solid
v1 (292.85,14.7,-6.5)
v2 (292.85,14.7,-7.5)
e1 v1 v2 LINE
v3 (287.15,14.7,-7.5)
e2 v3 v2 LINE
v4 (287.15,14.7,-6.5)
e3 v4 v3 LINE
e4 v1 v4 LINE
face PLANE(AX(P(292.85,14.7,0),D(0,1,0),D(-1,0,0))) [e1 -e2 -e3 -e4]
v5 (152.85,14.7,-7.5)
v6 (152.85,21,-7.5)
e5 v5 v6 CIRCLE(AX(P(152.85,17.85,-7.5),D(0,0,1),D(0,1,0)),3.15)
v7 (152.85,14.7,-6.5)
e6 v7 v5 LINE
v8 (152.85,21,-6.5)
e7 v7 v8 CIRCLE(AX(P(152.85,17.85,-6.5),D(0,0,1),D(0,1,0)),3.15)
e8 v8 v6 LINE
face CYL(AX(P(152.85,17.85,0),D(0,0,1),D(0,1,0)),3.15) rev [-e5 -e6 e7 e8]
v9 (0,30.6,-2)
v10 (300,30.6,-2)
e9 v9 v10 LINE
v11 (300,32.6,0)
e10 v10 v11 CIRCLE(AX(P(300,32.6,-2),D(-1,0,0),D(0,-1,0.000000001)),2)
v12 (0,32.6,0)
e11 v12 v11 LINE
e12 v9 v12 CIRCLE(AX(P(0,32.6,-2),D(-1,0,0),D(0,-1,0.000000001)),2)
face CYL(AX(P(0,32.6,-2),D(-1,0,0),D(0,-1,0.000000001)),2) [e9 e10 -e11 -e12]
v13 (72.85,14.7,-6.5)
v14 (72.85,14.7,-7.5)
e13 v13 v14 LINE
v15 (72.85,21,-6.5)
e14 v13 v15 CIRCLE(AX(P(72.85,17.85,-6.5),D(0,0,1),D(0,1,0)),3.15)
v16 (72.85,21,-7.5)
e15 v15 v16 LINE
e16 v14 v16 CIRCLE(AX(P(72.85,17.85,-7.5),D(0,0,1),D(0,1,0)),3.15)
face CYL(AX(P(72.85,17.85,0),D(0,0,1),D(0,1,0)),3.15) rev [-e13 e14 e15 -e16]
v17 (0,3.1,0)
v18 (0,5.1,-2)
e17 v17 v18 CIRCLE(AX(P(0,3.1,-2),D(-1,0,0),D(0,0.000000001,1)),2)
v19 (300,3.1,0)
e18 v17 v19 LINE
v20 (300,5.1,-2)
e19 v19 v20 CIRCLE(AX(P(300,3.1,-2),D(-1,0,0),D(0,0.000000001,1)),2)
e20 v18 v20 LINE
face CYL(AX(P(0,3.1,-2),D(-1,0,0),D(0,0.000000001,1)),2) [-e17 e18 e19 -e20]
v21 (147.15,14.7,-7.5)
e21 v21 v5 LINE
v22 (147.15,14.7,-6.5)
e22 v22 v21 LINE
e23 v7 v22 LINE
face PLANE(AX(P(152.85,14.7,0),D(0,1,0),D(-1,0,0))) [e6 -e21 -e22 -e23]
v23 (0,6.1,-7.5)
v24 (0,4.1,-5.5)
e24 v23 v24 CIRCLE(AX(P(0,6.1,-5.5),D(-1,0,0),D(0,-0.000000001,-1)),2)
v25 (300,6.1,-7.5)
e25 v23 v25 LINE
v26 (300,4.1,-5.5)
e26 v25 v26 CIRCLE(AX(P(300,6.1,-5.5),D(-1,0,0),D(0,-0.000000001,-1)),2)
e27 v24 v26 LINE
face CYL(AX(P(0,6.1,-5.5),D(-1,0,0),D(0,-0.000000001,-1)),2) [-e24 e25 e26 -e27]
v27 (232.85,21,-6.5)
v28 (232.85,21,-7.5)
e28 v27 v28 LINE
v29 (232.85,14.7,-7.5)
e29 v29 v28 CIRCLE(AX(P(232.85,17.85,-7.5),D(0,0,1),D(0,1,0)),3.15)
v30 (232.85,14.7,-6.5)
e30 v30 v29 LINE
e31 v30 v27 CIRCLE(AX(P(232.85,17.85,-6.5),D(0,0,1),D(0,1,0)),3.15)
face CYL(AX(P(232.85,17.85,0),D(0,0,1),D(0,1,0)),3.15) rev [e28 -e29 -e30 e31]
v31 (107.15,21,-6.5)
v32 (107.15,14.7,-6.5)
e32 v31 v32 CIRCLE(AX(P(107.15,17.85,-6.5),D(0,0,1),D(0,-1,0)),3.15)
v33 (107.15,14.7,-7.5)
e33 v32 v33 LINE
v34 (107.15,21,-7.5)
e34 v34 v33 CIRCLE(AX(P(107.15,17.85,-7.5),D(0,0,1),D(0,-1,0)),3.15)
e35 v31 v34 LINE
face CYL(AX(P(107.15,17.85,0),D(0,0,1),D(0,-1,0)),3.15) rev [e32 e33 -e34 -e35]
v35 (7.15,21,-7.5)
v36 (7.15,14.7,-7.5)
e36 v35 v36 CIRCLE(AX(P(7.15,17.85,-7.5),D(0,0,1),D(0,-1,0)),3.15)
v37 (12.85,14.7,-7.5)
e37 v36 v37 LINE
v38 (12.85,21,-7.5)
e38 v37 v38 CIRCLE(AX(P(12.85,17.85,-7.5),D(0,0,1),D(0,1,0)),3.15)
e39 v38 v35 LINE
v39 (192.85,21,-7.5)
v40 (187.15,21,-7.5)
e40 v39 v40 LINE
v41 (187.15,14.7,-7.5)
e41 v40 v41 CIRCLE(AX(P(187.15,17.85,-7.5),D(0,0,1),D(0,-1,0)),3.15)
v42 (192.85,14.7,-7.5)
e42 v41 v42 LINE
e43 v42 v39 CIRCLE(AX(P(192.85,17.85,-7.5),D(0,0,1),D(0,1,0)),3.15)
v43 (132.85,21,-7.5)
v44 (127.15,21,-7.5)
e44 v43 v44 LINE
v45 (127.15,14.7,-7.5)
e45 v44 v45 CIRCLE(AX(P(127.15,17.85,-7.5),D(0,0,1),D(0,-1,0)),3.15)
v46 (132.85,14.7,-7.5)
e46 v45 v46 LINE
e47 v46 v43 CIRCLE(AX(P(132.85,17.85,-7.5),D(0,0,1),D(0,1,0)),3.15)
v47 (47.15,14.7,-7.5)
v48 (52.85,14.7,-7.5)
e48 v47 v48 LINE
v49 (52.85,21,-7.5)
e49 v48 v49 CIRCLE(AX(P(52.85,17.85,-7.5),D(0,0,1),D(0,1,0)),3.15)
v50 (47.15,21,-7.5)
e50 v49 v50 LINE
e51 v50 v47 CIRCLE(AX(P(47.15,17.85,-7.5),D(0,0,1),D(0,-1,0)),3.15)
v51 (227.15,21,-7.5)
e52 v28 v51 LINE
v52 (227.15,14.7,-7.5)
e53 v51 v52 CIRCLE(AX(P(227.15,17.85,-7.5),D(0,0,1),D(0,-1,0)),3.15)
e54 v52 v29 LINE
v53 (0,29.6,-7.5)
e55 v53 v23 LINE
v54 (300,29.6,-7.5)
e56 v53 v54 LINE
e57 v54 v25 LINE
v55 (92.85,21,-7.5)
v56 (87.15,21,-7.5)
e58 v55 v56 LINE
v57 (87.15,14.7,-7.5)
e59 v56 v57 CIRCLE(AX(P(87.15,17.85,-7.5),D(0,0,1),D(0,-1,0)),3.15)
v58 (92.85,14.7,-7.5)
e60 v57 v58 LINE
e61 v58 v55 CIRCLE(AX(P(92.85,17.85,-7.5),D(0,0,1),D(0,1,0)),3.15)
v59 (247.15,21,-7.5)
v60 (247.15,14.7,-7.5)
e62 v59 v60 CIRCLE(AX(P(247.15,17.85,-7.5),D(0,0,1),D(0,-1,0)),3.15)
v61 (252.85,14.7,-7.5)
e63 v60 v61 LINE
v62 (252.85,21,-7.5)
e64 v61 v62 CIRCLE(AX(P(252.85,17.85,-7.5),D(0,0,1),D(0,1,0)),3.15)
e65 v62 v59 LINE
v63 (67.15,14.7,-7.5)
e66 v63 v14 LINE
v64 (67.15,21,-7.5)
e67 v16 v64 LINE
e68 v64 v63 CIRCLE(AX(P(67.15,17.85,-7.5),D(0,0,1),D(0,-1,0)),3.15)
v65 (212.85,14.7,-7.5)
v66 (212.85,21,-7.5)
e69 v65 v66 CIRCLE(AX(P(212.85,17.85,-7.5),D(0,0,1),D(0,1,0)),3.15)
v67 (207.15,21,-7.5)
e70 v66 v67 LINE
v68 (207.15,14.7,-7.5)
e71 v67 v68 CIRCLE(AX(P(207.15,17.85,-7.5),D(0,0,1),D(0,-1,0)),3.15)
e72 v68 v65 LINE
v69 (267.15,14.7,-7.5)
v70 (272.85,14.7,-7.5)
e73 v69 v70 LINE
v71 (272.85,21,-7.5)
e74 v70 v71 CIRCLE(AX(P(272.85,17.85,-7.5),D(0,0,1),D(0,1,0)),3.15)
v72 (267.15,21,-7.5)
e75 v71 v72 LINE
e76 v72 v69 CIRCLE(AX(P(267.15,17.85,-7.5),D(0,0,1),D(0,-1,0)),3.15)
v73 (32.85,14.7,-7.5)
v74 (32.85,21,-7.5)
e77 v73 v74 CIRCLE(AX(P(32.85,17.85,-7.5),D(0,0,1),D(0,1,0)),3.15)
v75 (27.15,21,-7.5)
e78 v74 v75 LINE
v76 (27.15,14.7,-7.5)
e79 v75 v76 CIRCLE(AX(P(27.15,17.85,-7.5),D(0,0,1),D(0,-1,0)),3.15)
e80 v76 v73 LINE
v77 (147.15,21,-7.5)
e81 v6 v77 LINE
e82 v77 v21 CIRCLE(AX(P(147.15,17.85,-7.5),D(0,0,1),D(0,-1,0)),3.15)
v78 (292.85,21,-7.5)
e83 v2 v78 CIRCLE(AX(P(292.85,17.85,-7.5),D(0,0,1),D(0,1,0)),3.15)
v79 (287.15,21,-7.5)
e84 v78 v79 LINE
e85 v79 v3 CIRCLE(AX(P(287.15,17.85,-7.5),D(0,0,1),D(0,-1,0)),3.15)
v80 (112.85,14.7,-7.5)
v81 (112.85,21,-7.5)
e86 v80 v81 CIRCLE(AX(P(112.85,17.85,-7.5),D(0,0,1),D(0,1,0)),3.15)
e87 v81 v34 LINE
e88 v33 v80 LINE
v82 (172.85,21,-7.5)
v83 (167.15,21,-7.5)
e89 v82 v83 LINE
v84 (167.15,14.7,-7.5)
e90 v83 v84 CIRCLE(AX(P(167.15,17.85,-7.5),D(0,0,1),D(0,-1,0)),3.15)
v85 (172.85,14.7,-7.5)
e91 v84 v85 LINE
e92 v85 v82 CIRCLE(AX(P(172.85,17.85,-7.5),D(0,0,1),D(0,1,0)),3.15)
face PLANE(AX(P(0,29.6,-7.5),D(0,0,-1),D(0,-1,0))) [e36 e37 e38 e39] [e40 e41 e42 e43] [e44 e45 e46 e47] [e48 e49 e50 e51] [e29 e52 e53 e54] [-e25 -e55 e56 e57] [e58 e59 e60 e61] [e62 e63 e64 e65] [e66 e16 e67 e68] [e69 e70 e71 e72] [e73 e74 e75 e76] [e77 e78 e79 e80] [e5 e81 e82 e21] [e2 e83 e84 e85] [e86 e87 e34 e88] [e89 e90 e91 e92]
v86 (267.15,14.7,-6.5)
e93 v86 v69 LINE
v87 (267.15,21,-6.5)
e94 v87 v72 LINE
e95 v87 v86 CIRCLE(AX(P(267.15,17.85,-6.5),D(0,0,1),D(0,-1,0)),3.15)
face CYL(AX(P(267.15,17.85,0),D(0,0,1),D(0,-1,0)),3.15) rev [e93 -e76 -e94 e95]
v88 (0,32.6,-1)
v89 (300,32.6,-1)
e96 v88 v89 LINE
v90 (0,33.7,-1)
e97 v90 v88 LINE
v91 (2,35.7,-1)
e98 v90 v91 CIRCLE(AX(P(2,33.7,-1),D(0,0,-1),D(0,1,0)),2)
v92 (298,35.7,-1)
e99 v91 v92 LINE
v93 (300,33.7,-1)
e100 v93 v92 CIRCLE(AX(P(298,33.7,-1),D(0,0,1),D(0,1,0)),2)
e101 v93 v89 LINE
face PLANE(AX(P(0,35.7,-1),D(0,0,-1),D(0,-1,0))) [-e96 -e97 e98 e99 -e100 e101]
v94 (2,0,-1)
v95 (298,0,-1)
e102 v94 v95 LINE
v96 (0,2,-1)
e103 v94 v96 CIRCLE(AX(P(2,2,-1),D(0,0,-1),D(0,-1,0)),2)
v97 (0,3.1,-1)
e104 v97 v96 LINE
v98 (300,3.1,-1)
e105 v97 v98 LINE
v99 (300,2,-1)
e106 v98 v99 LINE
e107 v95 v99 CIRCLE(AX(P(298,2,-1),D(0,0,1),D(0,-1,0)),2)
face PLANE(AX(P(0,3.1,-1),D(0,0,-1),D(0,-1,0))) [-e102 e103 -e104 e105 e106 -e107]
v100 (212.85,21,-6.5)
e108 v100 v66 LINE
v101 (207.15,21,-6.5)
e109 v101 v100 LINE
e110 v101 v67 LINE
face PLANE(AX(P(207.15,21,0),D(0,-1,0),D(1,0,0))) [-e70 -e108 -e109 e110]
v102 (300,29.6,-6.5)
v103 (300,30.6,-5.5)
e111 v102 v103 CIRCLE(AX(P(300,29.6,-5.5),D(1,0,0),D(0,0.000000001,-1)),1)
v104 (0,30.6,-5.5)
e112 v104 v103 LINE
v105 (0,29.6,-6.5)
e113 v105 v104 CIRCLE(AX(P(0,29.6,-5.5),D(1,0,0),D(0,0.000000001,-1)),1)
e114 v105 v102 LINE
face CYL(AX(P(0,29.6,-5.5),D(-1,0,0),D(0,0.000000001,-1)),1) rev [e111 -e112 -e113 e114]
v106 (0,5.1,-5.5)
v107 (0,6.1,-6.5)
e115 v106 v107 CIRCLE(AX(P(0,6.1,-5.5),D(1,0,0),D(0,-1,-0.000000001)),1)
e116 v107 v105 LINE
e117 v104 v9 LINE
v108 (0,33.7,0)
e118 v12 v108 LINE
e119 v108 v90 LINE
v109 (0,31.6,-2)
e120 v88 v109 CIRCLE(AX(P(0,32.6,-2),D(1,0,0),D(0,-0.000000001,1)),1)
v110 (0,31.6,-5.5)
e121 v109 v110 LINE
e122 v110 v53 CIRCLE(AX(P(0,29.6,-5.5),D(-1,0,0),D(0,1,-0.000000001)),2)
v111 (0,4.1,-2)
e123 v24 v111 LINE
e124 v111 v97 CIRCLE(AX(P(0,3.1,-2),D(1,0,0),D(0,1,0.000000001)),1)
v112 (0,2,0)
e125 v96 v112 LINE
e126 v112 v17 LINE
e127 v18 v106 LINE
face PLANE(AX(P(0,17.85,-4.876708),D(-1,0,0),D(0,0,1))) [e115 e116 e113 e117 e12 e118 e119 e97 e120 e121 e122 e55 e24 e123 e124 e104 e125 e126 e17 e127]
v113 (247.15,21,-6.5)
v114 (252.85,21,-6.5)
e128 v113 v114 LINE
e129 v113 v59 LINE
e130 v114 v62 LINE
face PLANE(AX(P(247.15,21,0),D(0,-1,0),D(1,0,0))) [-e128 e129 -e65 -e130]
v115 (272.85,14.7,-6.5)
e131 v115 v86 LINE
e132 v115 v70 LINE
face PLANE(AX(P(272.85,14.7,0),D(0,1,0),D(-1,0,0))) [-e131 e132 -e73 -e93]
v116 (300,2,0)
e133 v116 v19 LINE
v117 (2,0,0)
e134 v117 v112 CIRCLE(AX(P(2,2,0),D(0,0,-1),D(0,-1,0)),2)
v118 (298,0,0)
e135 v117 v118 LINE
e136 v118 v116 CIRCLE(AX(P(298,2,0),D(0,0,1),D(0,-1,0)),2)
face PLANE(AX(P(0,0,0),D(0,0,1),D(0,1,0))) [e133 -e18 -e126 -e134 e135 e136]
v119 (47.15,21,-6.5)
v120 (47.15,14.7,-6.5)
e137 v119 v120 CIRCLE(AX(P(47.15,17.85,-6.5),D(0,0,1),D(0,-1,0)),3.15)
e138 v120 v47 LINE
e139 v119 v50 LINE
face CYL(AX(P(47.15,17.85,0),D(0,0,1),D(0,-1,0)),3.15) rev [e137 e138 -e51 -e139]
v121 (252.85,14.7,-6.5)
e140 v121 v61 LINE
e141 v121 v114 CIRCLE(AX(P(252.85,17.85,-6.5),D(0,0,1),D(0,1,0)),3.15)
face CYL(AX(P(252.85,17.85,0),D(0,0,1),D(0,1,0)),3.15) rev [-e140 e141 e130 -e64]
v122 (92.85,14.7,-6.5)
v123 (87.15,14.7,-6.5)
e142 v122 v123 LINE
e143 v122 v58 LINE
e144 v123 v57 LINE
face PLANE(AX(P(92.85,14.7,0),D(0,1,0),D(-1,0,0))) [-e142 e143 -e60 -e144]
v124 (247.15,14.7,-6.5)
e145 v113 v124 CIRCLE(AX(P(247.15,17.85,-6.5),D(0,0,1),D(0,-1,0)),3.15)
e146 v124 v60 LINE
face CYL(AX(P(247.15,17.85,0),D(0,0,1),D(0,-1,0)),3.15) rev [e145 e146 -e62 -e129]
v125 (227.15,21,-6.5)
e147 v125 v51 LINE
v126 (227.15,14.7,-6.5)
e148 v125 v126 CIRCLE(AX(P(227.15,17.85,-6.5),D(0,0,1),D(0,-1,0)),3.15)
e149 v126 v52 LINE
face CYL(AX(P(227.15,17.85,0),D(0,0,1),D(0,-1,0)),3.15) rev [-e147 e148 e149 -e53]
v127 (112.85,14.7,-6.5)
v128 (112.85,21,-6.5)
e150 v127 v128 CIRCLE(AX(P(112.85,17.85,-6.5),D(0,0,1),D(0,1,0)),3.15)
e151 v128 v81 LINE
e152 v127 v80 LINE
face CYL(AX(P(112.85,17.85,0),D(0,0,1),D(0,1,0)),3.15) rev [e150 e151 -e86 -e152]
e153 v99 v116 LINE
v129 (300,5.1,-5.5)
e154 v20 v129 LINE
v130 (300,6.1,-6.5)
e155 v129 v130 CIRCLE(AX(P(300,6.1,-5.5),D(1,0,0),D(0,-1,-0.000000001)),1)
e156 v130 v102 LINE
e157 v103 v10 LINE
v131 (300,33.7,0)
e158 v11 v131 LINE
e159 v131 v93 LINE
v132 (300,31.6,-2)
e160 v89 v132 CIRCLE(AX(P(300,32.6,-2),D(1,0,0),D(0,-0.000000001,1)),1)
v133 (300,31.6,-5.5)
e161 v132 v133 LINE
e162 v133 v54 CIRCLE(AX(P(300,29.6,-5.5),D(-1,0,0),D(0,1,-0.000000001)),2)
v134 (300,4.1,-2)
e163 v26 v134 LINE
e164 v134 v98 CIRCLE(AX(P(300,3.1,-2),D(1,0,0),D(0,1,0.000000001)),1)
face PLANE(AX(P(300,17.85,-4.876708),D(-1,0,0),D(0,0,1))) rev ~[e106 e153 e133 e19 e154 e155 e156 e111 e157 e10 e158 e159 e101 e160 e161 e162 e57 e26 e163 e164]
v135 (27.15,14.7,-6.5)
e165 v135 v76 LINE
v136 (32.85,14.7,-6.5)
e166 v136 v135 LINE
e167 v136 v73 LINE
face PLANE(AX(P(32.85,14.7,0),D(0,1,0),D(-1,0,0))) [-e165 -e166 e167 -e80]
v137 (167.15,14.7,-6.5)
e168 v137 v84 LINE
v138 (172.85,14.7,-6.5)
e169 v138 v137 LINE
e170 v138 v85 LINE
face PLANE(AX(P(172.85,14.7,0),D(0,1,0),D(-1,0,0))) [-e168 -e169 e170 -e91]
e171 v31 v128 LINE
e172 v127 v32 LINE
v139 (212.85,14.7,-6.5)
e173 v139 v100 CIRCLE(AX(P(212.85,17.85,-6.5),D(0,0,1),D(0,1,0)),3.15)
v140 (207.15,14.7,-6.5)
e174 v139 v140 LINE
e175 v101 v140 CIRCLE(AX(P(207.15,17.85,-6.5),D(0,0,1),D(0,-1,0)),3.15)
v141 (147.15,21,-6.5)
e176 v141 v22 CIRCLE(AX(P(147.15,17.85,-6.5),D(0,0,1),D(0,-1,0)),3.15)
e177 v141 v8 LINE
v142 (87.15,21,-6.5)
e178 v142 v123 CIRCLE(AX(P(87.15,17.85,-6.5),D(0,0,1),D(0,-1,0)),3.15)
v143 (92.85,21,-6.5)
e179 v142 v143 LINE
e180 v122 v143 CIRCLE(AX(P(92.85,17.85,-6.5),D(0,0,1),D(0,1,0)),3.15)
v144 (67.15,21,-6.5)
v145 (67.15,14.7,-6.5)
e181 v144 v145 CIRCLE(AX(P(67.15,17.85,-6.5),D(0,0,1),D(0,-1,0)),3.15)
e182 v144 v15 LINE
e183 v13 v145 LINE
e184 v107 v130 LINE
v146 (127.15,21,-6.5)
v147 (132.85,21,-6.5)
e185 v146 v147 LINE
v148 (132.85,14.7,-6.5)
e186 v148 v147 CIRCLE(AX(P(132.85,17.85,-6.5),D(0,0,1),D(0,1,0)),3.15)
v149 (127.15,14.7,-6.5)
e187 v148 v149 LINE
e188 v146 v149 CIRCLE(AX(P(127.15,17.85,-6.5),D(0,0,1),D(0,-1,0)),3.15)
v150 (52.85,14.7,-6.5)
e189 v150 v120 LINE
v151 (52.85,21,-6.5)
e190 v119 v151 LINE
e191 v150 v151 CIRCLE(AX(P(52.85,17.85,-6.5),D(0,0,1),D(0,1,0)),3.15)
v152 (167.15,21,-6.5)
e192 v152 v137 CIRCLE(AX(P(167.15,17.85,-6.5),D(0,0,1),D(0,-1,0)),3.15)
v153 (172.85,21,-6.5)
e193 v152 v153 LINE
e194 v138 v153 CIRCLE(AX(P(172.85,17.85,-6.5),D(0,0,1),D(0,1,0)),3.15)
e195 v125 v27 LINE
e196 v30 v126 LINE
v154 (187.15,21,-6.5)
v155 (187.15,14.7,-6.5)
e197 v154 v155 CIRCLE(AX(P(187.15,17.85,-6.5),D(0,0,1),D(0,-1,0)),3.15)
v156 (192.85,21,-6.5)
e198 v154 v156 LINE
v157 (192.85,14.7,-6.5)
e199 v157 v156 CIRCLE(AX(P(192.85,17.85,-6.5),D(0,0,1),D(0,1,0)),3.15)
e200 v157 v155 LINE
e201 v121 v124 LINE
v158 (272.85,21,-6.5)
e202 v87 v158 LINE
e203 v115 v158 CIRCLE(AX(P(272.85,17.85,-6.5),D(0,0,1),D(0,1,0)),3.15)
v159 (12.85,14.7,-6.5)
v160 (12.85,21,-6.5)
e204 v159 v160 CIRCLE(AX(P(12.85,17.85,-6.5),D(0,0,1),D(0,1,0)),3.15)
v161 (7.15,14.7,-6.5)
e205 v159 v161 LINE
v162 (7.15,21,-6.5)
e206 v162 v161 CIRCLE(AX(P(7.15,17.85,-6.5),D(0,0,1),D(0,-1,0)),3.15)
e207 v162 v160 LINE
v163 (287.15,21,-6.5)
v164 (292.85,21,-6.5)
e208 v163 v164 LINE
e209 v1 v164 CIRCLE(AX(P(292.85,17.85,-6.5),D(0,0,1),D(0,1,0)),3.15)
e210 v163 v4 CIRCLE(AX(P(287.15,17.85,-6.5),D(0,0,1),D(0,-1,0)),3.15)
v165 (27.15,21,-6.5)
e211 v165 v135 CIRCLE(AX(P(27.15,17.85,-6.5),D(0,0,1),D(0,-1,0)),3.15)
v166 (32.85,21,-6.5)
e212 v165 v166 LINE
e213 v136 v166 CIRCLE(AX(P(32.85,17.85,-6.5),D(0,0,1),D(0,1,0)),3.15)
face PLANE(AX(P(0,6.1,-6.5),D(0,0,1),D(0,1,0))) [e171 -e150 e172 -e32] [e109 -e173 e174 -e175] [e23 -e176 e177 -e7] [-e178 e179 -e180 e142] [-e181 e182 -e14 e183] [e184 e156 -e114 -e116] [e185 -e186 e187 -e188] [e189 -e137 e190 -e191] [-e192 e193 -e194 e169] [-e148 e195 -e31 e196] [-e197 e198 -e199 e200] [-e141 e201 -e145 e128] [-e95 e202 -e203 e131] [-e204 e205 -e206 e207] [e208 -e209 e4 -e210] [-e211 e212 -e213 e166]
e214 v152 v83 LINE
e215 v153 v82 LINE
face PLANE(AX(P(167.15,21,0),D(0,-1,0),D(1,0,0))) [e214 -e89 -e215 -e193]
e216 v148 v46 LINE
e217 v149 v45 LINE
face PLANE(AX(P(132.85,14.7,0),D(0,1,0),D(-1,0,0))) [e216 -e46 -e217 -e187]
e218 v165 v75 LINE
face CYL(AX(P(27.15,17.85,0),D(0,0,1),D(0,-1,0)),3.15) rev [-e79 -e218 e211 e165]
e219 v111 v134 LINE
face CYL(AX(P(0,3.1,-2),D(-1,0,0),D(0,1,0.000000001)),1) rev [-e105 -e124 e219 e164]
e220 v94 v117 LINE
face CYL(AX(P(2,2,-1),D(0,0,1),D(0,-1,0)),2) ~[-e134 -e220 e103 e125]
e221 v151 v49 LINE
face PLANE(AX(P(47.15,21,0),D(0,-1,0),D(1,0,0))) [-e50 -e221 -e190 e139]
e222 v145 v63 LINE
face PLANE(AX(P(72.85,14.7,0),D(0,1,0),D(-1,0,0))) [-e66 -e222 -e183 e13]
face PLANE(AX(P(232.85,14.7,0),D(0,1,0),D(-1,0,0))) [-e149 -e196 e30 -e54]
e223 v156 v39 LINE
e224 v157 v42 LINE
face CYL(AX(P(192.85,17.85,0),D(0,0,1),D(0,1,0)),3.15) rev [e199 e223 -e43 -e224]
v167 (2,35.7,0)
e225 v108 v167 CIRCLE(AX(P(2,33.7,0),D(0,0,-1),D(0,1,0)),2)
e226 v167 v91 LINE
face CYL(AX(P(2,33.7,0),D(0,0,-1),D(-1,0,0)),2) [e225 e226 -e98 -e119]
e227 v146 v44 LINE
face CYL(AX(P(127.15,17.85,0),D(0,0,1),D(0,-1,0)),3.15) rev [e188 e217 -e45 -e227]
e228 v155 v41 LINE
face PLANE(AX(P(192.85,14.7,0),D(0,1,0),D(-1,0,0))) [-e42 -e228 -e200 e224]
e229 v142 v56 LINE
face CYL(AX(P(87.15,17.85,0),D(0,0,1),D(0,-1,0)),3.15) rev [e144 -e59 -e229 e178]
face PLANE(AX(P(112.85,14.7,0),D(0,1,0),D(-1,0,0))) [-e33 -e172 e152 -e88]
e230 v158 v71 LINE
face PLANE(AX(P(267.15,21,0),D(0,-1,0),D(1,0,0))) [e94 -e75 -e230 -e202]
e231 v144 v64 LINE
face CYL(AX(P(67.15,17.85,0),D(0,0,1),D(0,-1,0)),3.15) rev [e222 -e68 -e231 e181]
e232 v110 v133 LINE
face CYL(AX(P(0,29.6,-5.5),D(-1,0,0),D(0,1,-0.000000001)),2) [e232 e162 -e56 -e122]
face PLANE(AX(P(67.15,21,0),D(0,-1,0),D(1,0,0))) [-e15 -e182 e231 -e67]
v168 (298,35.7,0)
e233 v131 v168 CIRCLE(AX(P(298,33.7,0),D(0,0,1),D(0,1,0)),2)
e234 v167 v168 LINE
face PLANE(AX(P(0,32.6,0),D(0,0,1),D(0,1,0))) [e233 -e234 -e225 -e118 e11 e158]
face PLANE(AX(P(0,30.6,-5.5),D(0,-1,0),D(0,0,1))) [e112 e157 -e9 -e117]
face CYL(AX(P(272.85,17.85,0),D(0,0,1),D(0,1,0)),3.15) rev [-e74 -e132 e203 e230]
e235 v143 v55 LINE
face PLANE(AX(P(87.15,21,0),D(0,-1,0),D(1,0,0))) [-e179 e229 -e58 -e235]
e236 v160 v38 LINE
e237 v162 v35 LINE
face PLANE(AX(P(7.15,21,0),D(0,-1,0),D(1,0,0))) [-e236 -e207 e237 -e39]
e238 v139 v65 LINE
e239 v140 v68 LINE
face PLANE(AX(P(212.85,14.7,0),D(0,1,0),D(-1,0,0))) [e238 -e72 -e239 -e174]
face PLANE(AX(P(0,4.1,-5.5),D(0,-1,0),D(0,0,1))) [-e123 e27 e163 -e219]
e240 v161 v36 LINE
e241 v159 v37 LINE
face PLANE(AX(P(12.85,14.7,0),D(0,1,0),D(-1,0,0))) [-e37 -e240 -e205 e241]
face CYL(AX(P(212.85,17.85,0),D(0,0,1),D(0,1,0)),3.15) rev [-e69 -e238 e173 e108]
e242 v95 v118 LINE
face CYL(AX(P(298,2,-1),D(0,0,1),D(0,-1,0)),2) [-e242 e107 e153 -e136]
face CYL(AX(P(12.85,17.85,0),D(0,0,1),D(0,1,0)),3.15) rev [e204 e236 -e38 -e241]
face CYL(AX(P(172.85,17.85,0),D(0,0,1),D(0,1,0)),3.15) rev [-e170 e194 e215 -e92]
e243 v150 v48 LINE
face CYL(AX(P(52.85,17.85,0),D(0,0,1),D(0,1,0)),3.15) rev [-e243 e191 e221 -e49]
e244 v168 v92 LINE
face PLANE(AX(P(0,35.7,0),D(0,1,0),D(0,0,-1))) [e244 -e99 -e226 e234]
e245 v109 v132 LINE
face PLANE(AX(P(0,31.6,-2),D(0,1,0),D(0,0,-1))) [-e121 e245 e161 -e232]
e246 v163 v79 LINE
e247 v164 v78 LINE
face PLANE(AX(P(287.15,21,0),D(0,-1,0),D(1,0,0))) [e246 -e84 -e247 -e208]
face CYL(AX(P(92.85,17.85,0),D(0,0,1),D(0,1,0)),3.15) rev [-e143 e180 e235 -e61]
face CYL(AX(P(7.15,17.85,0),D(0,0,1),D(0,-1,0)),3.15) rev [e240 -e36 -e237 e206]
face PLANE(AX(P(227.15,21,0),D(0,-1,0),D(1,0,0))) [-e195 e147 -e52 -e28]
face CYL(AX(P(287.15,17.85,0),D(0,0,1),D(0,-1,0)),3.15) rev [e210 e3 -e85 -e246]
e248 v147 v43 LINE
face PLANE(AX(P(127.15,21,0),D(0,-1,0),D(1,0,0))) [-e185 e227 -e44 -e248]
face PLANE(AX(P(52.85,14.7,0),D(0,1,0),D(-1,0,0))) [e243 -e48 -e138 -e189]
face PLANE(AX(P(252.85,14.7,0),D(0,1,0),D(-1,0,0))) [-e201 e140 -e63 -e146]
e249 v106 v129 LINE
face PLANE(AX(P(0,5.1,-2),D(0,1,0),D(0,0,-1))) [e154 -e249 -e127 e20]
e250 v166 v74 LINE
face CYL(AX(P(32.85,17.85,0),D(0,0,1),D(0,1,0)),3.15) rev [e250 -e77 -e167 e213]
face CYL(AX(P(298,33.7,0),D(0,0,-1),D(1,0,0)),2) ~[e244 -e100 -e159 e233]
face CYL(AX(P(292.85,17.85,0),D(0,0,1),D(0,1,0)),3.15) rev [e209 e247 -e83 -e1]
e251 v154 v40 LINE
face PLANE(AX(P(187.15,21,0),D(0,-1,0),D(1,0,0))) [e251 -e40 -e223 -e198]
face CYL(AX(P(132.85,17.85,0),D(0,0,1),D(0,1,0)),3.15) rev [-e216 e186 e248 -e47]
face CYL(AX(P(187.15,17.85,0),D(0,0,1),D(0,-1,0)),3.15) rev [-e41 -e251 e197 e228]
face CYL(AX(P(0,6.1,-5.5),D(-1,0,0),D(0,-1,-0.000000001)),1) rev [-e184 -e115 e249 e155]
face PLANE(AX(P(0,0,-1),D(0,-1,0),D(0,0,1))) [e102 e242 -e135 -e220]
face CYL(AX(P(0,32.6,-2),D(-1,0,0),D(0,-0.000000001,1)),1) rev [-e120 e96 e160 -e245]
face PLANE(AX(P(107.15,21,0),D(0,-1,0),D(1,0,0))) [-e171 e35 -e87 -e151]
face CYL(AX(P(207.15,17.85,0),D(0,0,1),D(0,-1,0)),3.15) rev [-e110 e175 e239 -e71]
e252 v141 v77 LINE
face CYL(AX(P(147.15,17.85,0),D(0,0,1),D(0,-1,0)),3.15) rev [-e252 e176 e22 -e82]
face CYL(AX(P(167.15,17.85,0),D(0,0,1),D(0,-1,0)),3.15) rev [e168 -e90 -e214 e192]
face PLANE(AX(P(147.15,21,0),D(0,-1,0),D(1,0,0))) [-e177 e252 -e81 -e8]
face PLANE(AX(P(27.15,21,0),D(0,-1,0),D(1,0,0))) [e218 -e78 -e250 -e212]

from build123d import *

# Parameters (mm, degrees)
BOSS_EXTRUDE1_DEPTH = 300
CUT_EXTRUDE1_DEPTH  = 303.20976159
LPATTERN1_COUNT     = 15
LPATTERN1_PITCH     = 20
FILLET1_R           = 2


with BuildPart() as part:
    # Sketch1 → Boss-Extrude1 (new body)
    with BuildSketch(Plane(origin=(0, 0, 0), x_dir=(0, 0, -1), z_dir=(1, 0, 0))):
        with BuildLine():
            Line((0, 0), (0, 3.1))
            ThreePointArc((0, 3.1), (0.585786438, 4.514213562), (2, 5.1))
            Line((2, 5.1), (5.5, 5.1))
            ThreePointArc((5.5, 5.1), (6.207106781, 5.392893219), (6.5, 6.1))
            Line((6.5, 6.1), (6.5, 29.6))
            ThreePointArc((6.5, 29.6), (6.207106781, 30.307106781), (5.5, 30.6))
            Line((5.5, 30.6), (2, 30.6))
            ThreePointArc((2, 30.6), (0.585786438, 31.185786438), (0, 32.6))
            Line((0, 32.6), (0, 35.7))
            Line((0, 35.7), (1, 35.7))
            Line((1, 35.7), (1, 32.6))
            ThreePointArc((1, 32.6), (1.292893219, 31.892893219), (2, 31.6))
            Line((2, 31.6), (5.5, 31.6))
            ThreePointArc((5.5, 31.6), (6.914213562, 31.014213562), (7.5, 29.6))
            Line((7.5, 29.6), (7.5, 6.1))
            ThreePointArc((7.5, 6.1), (6.914213562, 4.685786438), (5.5, 4.1))
            Line((5.5, 4.1), (2, 4.1))
            ThreePointArc((2, 4.1), (1.292893219, 3.807106781), (1, 3.1))
            Line((1, 3.1), (1, 0))
            Line((1, 0), (0, 0))
        make_face()
    extrude(amount=BOSS_EXTRUDE1_DEPTH)

    # Sketch2 → Cut-Extrude1 (cut, through all)
    with BuildSketch(Plane.XY):
        with BuildLine():
            Line((7.15, 21), (12.85, 21))
            ThreePointArc((12.85, 21), (16, 17.85), (12.85, 14.7))
            Line((12.85, 14.7), (7.15, 14.7))
            ThreePointArc((7.15, 14.7), (4, 17.85), (7.15, 21))
        make_face()
    cut_extrude1 = extrude(amount=-CUT_EXTRUDE1_DEPTH, mode=Mode.SUBTRACT)

    # LPattern1: Cut-Extrude1 ×15
    with Locations(*[(i * LPATTERN1_PITCH, 0, 0) for i in range(1, LPATTERN1_COUNT)]):
        add(cut_extrude1, mode=Mode.SUBTRACT)

    # Fillet1
    fillet1_edges = [part.edges().sort_by_distance(p)[0] for p in [
        (0, 35.7, -0.5),
        (0, 0, -0.5),
        (300, 35.7, -0.5),
        (300, 0, -0.5),
    ]]
    fillet(fillet1_edges, radius=FILLET1_R)


solid = part.part
